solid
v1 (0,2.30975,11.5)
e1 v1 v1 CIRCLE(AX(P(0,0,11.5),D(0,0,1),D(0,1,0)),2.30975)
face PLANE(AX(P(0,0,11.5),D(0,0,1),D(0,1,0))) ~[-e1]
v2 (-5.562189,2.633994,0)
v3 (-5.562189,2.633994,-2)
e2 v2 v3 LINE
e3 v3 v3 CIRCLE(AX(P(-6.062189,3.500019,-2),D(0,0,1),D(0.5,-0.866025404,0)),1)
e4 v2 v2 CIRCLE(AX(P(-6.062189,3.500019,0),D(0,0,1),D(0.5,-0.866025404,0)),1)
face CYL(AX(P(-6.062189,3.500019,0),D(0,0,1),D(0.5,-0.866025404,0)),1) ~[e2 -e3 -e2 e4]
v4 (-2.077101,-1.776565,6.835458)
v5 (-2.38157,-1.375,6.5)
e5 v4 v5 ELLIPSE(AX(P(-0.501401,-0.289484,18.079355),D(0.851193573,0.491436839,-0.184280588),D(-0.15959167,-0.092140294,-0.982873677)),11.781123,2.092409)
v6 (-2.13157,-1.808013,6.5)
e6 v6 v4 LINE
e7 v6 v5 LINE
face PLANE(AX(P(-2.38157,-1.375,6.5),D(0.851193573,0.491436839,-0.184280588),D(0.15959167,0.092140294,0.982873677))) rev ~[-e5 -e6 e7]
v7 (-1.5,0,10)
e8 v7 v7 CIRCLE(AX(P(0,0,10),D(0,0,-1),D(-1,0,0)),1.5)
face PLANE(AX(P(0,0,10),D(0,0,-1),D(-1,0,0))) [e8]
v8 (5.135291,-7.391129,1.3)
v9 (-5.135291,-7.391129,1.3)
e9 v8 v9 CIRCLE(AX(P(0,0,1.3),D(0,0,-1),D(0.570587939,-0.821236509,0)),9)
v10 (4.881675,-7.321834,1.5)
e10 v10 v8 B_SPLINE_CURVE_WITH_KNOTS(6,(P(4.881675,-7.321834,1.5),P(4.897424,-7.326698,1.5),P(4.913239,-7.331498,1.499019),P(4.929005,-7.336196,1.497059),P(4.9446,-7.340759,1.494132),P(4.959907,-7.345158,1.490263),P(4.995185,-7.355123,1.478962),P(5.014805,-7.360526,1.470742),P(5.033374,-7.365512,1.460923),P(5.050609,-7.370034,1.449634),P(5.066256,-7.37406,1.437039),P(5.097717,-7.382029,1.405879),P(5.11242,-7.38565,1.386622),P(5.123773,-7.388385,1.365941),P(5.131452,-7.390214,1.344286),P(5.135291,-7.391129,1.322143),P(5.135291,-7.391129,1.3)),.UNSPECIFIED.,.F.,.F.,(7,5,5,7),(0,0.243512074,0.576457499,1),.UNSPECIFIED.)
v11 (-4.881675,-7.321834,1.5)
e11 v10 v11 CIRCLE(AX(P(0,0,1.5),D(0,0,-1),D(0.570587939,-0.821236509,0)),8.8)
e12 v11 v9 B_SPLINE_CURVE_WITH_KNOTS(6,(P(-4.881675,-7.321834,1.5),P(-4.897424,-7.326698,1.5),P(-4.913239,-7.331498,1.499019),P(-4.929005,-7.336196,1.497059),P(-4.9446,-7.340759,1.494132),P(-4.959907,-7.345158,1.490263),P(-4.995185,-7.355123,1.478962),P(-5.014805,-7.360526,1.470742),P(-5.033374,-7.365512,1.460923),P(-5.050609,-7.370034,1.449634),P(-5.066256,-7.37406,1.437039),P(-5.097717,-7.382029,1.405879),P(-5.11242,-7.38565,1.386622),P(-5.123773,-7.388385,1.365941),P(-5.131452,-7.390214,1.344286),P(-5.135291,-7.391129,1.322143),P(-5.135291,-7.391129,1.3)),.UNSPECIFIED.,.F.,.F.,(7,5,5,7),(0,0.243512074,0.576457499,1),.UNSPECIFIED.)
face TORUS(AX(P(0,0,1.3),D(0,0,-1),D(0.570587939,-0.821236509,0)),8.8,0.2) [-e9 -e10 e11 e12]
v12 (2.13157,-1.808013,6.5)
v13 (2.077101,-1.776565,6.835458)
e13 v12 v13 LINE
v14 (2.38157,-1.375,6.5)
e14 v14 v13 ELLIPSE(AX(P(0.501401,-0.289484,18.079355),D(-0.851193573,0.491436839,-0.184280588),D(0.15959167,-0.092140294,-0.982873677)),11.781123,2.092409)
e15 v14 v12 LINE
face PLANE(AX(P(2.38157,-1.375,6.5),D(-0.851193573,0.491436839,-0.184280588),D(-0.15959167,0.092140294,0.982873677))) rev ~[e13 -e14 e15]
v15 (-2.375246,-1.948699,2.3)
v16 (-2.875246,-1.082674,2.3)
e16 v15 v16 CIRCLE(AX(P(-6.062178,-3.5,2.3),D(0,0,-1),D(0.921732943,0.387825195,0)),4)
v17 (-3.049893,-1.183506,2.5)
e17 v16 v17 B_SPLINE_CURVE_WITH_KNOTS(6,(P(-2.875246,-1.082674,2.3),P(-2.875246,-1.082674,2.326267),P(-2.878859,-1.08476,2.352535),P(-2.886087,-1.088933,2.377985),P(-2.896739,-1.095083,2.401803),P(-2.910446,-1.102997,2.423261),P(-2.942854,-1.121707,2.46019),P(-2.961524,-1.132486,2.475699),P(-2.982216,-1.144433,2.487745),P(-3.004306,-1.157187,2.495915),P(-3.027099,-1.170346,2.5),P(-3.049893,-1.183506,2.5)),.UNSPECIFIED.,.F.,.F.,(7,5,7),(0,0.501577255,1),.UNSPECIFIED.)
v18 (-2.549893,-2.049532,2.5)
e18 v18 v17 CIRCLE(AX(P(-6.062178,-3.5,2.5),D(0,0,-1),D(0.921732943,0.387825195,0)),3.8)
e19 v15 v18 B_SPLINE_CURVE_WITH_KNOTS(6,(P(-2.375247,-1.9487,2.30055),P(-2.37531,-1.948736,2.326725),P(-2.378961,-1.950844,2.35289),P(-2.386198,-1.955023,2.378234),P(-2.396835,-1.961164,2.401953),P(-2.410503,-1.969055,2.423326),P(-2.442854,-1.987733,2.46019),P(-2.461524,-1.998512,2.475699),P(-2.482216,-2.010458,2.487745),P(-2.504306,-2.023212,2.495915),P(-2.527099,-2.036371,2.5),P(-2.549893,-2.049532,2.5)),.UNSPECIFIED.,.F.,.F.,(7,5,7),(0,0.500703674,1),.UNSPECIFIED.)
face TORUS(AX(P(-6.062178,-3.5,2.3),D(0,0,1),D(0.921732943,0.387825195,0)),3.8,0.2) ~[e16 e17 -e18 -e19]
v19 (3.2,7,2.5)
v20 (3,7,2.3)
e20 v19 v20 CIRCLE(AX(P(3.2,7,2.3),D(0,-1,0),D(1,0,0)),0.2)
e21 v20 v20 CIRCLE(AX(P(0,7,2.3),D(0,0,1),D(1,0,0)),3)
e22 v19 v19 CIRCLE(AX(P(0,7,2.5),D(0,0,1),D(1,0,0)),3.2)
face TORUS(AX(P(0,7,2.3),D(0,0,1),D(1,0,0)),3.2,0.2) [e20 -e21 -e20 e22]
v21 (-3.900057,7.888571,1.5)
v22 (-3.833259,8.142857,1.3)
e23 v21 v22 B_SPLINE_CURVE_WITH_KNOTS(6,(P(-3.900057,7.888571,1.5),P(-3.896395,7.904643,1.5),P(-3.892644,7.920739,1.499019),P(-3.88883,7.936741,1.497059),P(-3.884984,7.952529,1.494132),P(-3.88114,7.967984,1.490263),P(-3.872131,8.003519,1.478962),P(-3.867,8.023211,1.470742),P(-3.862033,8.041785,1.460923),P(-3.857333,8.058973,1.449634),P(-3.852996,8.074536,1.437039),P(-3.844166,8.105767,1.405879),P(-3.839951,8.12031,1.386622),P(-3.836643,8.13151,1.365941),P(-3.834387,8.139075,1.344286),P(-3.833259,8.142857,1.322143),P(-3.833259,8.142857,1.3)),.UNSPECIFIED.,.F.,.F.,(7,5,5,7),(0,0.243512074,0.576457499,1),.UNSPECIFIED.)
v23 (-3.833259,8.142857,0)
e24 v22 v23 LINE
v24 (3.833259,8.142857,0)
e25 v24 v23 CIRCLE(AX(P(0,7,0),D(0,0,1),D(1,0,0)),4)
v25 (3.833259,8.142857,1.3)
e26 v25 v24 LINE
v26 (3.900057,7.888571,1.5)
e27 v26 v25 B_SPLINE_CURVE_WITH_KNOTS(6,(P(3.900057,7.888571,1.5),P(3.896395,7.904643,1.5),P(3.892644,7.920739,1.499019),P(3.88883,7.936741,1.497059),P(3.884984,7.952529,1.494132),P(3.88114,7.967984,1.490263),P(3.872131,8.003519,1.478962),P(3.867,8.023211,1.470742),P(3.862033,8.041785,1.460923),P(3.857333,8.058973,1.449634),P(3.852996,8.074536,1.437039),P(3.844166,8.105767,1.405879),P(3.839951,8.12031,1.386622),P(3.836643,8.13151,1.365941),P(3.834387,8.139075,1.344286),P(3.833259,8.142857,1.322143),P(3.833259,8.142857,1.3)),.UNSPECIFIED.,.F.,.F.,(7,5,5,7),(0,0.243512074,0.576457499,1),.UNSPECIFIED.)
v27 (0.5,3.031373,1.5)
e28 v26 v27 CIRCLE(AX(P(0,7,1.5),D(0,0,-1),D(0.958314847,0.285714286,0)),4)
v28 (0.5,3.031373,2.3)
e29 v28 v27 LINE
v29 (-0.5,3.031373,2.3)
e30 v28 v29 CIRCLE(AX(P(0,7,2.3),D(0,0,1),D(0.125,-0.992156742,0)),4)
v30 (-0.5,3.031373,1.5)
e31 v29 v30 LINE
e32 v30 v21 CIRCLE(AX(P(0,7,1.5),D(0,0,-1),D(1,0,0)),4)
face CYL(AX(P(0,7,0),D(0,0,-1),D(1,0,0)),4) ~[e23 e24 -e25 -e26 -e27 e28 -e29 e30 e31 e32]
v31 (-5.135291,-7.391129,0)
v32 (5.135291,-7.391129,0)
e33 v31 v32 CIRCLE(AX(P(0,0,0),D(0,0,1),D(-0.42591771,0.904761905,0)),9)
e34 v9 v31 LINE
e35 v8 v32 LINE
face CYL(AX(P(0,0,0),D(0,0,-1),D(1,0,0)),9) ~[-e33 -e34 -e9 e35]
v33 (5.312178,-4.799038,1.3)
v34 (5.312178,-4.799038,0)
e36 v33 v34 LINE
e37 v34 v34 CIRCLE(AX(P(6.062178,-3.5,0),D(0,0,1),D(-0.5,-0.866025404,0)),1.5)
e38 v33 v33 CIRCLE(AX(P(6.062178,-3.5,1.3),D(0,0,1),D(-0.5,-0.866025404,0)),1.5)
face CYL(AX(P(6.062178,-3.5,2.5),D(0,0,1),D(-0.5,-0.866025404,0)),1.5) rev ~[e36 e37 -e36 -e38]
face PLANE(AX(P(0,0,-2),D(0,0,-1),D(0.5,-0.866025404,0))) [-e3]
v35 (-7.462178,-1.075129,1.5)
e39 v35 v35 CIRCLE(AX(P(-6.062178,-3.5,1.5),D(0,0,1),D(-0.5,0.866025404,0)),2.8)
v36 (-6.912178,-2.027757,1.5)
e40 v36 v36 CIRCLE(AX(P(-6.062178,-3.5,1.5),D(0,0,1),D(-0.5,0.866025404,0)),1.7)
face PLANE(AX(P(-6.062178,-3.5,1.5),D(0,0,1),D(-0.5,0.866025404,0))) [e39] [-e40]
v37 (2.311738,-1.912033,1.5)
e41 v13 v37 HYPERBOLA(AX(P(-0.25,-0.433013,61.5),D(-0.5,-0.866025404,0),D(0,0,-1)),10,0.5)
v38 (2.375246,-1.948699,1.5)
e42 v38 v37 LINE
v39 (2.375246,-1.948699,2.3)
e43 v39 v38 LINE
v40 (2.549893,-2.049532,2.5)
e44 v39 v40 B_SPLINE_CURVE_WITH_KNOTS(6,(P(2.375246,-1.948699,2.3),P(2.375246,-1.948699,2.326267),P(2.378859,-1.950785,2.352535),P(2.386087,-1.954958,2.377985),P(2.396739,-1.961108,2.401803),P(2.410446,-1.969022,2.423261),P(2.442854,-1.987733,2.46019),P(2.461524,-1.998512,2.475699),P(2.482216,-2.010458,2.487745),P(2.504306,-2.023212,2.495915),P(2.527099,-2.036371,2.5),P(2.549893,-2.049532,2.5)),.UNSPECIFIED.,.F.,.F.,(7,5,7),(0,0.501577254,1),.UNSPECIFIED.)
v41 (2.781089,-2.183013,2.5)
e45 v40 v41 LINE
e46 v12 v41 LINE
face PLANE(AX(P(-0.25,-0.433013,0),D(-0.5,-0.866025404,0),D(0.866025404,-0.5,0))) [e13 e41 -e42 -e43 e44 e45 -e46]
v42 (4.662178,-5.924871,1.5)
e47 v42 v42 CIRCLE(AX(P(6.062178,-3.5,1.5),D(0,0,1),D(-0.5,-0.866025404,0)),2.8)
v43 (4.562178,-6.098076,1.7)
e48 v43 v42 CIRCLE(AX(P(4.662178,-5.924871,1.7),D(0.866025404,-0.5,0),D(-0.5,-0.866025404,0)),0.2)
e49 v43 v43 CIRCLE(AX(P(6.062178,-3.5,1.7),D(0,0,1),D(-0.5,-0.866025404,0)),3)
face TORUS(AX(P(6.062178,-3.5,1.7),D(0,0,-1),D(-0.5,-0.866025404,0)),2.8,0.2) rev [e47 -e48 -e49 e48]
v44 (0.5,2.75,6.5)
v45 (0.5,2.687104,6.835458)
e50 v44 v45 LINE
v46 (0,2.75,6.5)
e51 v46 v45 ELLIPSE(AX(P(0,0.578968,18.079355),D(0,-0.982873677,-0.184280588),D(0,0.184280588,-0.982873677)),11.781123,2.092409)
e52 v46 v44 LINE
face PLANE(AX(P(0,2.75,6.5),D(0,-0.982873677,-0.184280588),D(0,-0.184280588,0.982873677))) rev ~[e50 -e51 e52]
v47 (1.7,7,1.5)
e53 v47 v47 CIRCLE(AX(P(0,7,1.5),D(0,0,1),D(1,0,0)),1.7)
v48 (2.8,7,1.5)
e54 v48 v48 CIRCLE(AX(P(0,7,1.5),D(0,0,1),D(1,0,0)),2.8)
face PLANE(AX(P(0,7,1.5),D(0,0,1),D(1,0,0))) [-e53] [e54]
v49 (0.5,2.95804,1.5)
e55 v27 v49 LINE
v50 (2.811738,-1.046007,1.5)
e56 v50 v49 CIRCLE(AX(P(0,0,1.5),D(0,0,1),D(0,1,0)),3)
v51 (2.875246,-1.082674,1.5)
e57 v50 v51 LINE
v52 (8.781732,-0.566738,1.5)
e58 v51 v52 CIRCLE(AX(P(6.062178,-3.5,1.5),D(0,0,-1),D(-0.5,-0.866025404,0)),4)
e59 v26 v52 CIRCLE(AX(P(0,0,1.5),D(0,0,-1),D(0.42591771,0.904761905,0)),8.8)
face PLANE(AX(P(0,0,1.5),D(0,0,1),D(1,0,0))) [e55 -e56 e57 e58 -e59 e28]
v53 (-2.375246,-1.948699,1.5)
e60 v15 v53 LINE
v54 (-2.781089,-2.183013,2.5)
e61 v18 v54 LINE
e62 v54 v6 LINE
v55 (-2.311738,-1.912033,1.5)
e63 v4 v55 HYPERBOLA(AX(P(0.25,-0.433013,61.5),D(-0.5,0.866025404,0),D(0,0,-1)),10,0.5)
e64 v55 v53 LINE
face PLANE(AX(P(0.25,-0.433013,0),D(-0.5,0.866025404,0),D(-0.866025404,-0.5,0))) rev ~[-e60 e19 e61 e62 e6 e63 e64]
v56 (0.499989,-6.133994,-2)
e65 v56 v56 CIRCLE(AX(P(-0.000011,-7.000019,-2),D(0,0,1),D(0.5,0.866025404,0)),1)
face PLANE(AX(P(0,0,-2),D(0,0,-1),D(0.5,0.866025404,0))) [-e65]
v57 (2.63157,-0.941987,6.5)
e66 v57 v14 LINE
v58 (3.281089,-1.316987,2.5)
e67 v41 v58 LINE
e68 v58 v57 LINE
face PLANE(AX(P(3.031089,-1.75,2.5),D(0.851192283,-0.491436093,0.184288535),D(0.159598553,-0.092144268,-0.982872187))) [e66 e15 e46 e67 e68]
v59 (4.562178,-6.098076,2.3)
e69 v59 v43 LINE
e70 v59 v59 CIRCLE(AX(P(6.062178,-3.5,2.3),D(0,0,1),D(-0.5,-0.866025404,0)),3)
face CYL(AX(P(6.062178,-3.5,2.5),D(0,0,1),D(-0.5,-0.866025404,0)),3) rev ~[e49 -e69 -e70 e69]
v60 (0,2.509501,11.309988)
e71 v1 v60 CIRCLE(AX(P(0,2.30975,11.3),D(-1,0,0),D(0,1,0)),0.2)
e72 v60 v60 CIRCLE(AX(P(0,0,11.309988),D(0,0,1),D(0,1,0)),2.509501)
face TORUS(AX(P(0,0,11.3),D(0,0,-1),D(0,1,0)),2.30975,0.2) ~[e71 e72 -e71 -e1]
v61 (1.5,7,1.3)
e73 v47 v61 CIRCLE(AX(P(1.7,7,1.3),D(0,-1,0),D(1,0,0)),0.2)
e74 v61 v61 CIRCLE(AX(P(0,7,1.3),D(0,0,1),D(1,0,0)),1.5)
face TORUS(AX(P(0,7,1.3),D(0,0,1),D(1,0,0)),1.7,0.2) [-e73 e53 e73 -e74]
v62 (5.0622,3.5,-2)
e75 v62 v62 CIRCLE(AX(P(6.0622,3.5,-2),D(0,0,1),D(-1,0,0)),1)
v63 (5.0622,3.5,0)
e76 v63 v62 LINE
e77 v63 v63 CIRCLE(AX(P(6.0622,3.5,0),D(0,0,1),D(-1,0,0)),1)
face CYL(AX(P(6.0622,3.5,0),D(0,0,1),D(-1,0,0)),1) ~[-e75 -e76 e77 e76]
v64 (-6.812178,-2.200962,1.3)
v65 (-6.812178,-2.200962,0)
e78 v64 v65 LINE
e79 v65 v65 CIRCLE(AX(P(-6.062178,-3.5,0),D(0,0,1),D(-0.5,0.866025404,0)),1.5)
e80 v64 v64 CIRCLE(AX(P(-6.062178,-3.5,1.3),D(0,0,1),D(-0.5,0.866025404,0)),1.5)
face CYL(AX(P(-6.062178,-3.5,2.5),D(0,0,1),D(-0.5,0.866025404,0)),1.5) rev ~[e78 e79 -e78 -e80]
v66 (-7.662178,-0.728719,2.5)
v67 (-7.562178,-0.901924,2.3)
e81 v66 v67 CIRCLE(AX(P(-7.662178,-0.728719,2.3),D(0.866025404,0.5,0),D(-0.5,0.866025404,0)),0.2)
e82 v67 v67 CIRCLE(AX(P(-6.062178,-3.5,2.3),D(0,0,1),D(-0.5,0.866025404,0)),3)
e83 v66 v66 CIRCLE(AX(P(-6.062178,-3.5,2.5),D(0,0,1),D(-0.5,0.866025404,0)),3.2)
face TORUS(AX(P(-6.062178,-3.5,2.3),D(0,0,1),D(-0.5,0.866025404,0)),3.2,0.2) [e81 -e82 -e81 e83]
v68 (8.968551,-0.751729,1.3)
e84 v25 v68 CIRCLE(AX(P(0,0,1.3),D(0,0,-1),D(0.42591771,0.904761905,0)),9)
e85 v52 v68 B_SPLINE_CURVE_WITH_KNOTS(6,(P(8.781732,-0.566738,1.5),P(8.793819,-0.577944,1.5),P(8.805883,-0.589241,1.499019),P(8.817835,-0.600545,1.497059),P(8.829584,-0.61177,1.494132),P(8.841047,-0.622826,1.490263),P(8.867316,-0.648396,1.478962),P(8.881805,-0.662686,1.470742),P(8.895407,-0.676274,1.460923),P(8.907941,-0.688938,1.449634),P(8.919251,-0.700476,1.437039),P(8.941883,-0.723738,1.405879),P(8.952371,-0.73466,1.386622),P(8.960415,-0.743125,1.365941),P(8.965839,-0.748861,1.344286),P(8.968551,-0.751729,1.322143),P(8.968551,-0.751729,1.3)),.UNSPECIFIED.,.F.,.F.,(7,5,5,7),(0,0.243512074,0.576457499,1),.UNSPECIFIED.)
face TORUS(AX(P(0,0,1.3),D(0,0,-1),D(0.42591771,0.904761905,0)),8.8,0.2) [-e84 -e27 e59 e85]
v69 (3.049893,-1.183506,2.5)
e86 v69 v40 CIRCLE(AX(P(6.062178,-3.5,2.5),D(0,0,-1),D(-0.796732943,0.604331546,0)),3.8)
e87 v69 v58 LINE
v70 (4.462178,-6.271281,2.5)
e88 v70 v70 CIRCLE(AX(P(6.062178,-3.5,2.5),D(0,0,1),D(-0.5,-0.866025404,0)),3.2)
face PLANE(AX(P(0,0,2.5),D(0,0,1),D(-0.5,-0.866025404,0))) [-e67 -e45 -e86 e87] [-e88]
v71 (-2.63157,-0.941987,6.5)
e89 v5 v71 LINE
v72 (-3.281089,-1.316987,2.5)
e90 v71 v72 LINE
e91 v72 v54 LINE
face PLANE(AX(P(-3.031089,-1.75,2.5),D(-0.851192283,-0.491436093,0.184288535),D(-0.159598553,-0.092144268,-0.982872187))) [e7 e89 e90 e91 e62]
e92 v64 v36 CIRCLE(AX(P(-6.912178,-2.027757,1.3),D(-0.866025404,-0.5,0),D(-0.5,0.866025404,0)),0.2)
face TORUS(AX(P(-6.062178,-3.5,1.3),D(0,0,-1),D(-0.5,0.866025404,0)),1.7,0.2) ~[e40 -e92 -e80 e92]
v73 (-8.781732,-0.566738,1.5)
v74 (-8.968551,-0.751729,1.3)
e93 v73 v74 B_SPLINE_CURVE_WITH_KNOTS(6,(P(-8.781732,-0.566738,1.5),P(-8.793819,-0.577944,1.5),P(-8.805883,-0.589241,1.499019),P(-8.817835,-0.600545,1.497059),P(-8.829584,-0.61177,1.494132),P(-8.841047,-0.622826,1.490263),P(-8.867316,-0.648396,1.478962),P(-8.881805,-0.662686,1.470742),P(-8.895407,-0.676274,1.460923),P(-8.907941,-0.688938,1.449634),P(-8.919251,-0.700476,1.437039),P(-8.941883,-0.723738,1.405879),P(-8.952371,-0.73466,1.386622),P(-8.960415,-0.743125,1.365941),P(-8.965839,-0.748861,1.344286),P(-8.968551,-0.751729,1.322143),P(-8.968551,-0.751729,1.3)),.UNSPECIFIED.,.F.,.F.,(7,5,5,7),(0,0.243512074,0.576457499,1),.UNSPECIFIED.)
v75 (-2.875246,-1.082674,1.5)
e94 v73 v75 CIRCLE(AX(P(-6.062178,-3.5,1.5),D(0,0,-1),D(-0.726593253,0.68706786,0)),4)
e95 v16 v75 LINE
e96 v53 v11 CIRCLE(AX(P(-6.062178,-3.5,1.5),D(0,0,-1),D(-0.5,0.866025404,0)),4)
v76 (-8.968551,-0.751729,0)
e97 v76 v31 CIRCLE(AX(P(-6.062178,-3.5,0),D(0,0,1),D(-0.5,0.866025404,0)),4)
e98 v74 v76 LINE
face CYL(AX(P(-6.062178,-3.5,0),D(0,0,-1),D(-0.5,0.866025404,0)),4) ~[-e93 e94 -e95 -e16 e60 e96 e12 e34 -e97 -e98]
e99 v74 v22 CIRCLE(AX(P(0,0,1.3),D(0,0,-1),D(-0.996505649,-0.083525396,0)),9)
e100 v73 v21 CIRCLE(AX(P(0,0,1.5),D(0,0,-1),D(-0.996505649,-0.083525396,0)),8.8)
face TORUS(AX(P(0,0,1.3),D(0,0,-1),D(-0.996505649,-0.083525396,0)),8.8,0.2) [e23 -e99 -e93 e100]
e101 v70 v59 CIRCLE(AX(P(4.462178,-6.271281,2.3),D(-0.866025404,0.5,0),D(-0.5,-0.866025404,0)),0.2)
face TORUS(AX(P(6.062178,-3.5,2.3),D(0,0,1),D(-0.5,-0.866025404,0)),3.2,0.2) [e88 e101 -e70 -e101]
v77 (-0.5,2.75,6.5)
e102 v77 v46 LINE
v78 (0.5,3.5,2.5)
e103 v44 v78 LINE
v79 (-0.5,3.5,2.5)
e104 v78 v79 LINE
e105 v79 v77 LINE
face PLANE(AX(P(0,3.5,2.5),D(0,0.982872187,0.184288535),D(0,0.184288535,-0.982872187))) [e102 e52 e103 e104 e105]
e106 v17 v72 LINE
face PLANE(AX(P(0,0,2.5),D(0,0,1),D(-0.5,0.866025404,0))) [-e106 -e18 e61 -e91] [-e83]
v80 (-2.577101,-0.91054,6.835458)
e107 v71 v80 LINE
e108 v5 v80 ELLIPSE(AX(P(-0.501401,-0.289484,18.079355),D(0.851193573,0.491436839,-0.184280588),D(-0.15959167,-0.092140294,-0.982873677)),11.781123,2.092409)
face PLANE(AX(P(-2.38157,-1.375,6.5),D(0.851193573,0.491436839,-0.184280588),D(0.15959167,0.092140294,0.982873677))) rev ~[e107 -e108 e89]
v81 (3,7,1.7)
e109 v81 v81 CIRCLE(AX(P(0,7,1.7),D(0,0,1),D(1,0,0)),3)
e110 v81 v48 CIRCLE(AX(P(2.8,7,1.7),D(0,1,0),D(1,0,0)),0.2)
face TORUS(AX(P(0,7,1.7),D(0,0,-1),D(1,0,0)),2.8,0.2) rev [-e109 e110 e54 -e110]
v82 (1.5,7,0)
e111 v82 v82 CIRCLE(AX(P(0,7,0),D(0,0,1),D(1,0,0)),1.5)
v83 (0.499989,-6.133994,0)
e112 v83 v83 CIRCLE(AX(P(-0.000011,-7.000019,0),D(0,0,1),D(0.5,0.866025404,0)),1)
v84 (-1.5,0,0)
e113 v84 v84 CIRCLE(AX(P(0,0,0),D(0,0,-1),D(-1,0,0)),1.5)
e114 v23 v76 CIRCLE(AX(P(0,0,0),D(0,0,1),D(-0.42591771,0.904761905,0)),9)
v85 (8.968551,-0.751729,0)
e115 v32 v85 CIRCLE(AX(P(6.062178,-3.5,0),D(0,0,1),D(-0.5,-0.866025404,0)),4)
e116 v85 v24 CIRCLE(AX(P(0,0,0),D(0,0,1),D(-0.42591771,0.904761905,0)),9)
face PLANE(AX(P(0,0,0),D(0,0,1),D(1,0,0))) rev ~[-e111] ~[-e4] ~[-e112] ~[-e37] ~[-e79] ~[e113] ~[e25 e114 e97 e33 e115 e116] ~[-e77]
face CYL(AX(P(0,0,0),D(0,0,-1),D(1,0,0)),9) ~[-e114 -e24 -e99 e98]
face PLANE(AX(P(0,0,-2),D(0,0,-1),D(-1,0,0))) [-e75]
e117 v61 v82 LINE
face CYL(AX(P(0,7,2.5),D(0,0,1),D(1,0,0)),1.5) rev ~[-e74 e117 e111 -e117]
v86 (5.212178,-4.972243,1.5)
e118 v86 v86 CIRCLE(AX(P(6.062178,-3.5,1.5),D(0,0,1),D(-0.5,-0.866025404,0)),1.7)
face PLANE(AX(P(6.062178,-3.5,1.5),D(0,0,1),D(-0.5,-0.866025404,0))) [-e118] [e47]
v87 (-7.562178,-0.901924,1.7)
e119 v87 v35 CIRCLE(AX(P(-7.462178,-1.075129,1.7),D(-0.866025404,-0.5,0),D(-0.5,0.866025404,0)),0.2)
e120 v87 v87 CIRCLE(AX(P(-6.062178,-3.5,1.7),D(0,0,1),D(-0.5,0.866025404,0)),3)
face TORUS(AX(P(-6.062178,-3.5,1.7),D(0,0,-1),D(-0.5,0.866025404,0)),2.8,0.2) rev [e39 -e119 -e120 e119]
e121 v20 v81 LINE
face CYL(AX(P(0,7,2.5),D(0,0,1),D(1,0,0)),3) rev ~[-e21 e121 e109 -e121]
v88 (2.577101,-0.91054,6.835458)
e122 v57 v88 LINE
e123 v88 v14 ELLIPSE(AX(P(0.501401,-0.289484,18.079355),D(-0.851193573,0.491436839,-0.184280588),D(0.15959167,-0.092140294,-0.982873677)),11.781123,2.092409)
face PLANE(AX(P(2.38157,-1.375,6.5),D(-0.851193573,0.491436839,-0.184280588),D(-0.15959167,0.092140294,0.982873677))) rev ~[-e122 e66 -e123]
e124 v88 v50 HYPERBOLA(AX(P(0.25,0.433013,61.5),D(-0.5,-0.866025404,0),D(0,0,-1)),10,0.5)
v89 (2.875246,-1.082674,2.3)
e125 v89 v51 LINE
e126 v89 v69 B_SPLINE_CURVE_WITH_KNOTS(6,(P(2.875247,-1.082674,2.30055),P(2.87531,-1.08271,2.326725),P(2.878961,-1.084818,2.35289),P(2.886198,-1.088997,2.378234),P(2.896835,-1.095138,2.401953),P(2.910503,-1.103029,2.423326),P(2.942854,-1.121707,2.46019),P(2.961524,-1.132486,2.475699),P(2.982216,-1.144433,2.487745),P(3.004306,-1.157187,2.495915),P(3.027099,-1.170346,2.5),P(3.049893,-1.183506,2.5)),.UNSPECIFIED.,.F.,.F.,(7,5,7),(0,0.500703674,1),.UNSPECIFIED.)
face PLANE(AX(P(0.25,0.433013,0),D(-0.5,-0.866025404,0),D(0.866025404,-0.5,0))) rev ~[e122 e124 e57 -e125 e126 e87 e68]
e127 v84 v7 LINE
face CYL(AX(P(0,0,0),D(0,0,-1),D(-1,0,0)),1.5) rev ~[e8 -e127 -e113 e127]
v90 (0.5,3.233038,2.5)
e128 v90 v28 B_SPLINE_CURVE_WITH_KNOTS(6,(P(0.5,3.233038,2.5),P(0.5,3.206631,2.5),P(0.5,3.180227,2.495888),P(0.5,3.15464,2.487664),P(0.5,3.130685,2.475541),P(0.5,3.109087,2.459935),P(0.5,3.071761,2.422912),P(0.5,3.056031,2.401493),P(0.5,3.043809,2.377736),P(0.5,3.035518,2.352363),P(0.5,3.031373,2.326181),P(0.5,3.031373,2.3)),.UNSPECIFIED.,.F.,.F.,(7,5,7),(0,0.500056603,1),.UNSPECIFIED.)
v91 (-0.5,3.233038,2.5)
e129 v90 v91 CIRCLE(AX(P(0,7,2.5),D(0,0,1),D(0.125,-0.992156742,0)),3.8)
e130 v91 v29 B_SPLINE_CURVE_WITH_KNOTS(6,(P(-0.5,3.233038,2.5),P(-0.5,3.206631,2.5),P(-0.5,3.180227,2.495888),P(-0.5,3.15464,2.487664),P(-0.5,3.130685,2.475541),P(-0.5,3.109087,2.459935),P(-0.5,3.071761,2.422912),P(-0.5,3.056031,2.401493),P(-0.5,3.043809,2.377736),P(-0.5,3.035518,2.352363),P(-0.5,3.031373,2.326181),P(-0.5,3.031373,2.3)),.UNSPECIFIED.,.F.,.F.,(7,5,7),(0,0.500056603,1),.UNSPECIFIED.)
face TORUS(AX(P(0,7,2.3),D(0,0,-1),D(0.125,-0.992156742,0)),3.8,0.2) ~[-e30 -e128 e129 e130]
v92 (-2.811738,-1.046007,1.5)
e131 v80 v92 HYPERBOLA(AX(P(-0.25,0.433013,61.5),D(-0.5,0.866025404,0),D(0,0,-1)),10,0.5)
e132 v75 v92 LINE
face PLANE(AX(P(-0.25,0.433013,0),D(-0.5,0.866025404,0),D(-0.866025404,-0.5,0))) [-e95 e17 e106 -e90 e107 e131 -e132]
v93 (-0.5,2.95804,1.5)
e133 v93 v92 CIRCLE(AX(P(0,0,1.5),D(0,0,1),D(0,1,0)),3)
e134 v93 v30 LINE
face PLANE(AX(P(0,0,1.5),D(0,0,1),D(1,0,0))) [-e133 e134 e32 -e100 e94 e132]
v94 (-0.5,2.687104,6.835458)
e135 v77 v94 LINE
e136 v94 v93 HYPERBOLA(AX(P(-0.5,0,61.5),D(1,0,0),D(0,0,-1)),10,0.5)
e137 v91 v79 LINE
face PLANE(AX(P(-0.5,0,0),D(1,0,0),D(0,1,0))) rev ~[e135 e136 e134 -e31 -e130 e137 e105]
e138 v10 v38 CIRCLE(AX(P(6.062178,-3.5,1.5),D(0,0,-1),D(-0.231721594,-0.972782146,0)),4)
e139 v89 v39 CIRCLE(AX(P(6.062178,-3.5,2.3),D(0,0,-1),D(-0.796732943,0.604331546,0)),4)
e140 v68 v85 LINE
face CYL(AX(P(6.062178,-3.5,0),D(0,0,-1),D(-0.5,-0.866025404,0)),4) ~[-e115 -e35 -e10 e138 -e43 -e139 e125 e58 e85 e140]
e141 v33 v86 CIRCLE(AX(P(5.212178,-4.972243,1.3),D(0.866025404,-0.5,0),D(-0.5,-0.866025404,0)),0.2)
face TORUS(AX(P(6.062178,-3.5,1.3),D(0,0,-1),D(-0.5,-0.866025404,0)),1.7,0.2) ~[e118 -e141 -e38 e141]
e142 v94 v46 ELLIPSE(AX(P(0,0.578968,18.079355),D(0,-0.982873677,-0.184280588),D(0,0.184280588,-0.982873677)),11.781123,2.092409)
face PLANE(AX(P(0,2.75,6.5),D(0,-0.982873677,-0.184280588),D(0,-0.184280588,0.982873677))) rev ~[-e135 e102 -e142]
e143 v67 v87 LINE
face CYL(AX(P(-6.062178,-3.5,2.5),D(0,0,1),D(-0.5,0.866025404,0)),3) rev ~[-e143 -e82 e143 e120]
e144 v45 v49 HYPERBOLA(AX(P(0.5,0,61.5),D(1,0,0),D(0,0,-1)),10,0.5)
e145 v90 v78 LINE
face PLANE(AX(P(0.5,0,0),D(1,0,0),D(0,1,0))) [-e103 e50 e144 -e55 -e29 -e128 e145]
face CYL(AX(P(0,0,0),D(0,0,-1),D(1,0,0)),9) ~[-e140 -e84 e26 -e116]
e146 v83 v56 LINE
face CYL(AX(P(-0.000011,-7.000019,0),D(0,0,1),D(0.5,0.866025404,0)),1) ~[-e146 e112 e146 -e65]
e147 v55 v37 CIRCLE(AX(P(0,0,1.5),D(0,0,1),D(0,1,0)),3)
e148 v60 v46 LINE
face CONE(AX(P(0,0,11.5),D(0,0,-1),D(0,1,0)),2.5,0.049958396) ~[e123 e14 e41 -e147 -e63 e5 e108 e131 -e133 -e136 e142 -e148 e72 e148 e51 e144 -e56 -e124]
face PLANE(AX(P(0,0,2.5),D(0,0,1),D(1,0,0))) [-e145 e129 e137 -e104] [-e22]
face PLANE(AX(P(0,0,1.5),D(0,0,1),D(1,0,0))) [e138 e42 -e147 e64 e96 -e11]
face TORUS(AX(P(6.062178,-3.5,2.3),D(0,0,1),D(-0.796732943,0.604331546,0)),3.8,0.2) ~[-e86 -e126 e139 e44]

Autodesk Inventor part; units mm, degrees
ref_plane "YZ Plane" through (0, 0, 0) normal (1, 0, 0) x (0, 1, 0)
ref_plane "XZ Plane" through (0, 0, 0) normal (0, 1, 0) x (-1, 0, 0)
ref_plane "XY Plane" through (0, 0, 0) normal (0, 0, 1) x (1, 0, 0)
sketch "スケッチ1" plane through (0, 0, 0) normal (0, 0, 1) x (1, 0, 0)
  circle A0 centre (0, 0) radius 9
  dimension "d0" = 18
extrude "押し出し1" add sketch "スケッチ1" along normal blind 1.5
sketch "スケッチ2" plane through (0, 0, 0) normal (0, 0, 1) x (1, 0, 0)
  circle A0 centre (0, 7) radius 4
  point P0 (0, 0)
  dimension "d3" = 8
  dimension "d4" = 7
extrude "押し出し2" add sketch "スケッチ2" along normal blind 2.5
pattern_circular "円形状パターン1" count 3 over 360 about axis through (0, 0, 0) along (0, 0, 1) of "押し出し2"
sketch "スケッチ3" plane through (0, 7, 2.5) normal (0, 0, 1) x (1, 0, 0)
  circle A0 centre (0, 0) radius 1.5
  point P0 (0, -7)
  dimension "d10" = 3
extrude "押し出し3" cut sketch "スケッチ3" against normal through all
sketch "スケッチ4" plane through (0, 7, 2.5) normal (0, 0, 1) x (1, 0, 0)
  circle A0 centre (0, 0) radius 3
  point P0 (0, -7)
  dimension "d13" = 6
extrude "押し出し4" cut sketch "スケッチ4" against normal blind 1
pattern_circular "円形状パターン2" count 3 over 360 about axis through (0, 0, 0) along (0, 0, 1) of "押し出し4", "押し出し3"
sketch "スケッチ5" plane through (0, 0, 1.5) normal (0, 0, 1) x (1, 0, 0)
  circle A0 centre (0, 0) radius 3
  dimension "d19" = 6
sketch "スケッチ6" plane through (0, 0, 0) normal (1, 0, 0) x (0, 1, 0)
  line L0 (8.1429, 1.5) -> (-0.7517, 1.5) projected
  line L1 (0, 1.5) -> (3, 1.5)
  line L2 (0, 1.5) -> (0, 11.5)
  line L3 (0, 11.5) -> (2.5, 11.5)
  line L4 (2.5, 11.5) -> (3, 1.5)
  point P0 (0, 0)
  dimension "d20" = 3
  dimension "d21" = 10
  dimension "d22" = 2.5
revolve "回転1" add sketch "スケッチ6" angle 360 about axis through (0, 0, 1.5) along (0, 0, 1)
sketch "スケッチ7" plane through (0, 0, 0) normal (0, 0, -1) x (-1, 0, 0)
  arc A0 (0, 3) -> (-2.5981, -1.5) centre (0, 0) ccw projected
  line L0 (0, 0) -> (-6.0622, 3.5)
  line L1 (0, 0) -> (7, 0) construction
  circle A1 centre (-6.0622, 3.5) radius 1
  dimension "d24" = 7
  dimension "d25" = 150
  dimension "d26" = 2
extrude "押し出し5" add sketch "スケッチ7" along normal blind 2
pattern_circular "円形状パターン3" count 3 over 360 about axis through (0, 0, 0) along (0, 0, 1) of "押し出し5"
sketch "スケッチ8" plane through (0, 0, 0) normal (1, 0, 0) x (0, 1, 0)
  line L0 (11, 2.5) -> (3, 2.5) projected
  line L1 (3, 1.5) -> (3, 2.5) projected
  line L2 (2.5, 11.5) -> (3, 1.5) projected
  line L3 (-2.5, 11.5) -> (2.5, 11.5) projected
  line L4 (2.75, 6.5) -> (3.5, 2.5)
  line L5 (3.5, 2.5) -> (3.6875, 1.5)
  line L6 (3, 1.5) -> (8.1429, 1.5) projected
  line L7 (-1.5, 1.5) -> (3, 1.5) projected
  line L8 (3, 1.5) -> (2.75, 6.5)
  line L9 (2.75, 6.5) -> (2.05, 10.2335)
  line L10 (2.05, 10.2335) -> (2.05, 1.5)
  point P0 (0, 0)
  dimension "d32" = 0.5
  dimension "d33" = 5
extrude "押し出し6" add sketch "スケッチ8" along normal mid plane 1
pattern_circular "円形状パターン4" count 3 over 360 about axis through (0, 0, 6.5) along (0, 0, -1) of "押し出し6"
fillet "フィレット1" radius 0.2 13 edges at (0, -2.5, 11.5) (7.5622, -0.9019, 2.5) (9.5263, -5.5, 2.5) (0, 11, 2.5) (-3, 7, 2.5) (-9.5263, -5.5, 2.5) (-4.5622, -6.0981, 2.5) (-1.5, 7, 1.5) (-3, 7, 1.5) (7.5622, -0.9019, 1.5) (6.8122, -2.201, 1.5) (-4.5622, -6.0981, 1.5) (-5.3122, -4.799, 1.5)
fillet "フィレット2" radius 0.2 3 edges at (7.7942, 4.5, 1.5) (-7.7942, 4.5, 1.5) (0, -9, 1.5)
sketch "スケッチ9" plane through (0, 0, 0) normal (0, 0, -1) x (-1, 0, 0)
  circle A0 centre (0, 0) radius 1.5
  dimension "d41" = 3
extrude "押し出し7" cut sketch "スケッチ9" against normal blind 10
properties part number "tamiya-slim-tire-hub"
